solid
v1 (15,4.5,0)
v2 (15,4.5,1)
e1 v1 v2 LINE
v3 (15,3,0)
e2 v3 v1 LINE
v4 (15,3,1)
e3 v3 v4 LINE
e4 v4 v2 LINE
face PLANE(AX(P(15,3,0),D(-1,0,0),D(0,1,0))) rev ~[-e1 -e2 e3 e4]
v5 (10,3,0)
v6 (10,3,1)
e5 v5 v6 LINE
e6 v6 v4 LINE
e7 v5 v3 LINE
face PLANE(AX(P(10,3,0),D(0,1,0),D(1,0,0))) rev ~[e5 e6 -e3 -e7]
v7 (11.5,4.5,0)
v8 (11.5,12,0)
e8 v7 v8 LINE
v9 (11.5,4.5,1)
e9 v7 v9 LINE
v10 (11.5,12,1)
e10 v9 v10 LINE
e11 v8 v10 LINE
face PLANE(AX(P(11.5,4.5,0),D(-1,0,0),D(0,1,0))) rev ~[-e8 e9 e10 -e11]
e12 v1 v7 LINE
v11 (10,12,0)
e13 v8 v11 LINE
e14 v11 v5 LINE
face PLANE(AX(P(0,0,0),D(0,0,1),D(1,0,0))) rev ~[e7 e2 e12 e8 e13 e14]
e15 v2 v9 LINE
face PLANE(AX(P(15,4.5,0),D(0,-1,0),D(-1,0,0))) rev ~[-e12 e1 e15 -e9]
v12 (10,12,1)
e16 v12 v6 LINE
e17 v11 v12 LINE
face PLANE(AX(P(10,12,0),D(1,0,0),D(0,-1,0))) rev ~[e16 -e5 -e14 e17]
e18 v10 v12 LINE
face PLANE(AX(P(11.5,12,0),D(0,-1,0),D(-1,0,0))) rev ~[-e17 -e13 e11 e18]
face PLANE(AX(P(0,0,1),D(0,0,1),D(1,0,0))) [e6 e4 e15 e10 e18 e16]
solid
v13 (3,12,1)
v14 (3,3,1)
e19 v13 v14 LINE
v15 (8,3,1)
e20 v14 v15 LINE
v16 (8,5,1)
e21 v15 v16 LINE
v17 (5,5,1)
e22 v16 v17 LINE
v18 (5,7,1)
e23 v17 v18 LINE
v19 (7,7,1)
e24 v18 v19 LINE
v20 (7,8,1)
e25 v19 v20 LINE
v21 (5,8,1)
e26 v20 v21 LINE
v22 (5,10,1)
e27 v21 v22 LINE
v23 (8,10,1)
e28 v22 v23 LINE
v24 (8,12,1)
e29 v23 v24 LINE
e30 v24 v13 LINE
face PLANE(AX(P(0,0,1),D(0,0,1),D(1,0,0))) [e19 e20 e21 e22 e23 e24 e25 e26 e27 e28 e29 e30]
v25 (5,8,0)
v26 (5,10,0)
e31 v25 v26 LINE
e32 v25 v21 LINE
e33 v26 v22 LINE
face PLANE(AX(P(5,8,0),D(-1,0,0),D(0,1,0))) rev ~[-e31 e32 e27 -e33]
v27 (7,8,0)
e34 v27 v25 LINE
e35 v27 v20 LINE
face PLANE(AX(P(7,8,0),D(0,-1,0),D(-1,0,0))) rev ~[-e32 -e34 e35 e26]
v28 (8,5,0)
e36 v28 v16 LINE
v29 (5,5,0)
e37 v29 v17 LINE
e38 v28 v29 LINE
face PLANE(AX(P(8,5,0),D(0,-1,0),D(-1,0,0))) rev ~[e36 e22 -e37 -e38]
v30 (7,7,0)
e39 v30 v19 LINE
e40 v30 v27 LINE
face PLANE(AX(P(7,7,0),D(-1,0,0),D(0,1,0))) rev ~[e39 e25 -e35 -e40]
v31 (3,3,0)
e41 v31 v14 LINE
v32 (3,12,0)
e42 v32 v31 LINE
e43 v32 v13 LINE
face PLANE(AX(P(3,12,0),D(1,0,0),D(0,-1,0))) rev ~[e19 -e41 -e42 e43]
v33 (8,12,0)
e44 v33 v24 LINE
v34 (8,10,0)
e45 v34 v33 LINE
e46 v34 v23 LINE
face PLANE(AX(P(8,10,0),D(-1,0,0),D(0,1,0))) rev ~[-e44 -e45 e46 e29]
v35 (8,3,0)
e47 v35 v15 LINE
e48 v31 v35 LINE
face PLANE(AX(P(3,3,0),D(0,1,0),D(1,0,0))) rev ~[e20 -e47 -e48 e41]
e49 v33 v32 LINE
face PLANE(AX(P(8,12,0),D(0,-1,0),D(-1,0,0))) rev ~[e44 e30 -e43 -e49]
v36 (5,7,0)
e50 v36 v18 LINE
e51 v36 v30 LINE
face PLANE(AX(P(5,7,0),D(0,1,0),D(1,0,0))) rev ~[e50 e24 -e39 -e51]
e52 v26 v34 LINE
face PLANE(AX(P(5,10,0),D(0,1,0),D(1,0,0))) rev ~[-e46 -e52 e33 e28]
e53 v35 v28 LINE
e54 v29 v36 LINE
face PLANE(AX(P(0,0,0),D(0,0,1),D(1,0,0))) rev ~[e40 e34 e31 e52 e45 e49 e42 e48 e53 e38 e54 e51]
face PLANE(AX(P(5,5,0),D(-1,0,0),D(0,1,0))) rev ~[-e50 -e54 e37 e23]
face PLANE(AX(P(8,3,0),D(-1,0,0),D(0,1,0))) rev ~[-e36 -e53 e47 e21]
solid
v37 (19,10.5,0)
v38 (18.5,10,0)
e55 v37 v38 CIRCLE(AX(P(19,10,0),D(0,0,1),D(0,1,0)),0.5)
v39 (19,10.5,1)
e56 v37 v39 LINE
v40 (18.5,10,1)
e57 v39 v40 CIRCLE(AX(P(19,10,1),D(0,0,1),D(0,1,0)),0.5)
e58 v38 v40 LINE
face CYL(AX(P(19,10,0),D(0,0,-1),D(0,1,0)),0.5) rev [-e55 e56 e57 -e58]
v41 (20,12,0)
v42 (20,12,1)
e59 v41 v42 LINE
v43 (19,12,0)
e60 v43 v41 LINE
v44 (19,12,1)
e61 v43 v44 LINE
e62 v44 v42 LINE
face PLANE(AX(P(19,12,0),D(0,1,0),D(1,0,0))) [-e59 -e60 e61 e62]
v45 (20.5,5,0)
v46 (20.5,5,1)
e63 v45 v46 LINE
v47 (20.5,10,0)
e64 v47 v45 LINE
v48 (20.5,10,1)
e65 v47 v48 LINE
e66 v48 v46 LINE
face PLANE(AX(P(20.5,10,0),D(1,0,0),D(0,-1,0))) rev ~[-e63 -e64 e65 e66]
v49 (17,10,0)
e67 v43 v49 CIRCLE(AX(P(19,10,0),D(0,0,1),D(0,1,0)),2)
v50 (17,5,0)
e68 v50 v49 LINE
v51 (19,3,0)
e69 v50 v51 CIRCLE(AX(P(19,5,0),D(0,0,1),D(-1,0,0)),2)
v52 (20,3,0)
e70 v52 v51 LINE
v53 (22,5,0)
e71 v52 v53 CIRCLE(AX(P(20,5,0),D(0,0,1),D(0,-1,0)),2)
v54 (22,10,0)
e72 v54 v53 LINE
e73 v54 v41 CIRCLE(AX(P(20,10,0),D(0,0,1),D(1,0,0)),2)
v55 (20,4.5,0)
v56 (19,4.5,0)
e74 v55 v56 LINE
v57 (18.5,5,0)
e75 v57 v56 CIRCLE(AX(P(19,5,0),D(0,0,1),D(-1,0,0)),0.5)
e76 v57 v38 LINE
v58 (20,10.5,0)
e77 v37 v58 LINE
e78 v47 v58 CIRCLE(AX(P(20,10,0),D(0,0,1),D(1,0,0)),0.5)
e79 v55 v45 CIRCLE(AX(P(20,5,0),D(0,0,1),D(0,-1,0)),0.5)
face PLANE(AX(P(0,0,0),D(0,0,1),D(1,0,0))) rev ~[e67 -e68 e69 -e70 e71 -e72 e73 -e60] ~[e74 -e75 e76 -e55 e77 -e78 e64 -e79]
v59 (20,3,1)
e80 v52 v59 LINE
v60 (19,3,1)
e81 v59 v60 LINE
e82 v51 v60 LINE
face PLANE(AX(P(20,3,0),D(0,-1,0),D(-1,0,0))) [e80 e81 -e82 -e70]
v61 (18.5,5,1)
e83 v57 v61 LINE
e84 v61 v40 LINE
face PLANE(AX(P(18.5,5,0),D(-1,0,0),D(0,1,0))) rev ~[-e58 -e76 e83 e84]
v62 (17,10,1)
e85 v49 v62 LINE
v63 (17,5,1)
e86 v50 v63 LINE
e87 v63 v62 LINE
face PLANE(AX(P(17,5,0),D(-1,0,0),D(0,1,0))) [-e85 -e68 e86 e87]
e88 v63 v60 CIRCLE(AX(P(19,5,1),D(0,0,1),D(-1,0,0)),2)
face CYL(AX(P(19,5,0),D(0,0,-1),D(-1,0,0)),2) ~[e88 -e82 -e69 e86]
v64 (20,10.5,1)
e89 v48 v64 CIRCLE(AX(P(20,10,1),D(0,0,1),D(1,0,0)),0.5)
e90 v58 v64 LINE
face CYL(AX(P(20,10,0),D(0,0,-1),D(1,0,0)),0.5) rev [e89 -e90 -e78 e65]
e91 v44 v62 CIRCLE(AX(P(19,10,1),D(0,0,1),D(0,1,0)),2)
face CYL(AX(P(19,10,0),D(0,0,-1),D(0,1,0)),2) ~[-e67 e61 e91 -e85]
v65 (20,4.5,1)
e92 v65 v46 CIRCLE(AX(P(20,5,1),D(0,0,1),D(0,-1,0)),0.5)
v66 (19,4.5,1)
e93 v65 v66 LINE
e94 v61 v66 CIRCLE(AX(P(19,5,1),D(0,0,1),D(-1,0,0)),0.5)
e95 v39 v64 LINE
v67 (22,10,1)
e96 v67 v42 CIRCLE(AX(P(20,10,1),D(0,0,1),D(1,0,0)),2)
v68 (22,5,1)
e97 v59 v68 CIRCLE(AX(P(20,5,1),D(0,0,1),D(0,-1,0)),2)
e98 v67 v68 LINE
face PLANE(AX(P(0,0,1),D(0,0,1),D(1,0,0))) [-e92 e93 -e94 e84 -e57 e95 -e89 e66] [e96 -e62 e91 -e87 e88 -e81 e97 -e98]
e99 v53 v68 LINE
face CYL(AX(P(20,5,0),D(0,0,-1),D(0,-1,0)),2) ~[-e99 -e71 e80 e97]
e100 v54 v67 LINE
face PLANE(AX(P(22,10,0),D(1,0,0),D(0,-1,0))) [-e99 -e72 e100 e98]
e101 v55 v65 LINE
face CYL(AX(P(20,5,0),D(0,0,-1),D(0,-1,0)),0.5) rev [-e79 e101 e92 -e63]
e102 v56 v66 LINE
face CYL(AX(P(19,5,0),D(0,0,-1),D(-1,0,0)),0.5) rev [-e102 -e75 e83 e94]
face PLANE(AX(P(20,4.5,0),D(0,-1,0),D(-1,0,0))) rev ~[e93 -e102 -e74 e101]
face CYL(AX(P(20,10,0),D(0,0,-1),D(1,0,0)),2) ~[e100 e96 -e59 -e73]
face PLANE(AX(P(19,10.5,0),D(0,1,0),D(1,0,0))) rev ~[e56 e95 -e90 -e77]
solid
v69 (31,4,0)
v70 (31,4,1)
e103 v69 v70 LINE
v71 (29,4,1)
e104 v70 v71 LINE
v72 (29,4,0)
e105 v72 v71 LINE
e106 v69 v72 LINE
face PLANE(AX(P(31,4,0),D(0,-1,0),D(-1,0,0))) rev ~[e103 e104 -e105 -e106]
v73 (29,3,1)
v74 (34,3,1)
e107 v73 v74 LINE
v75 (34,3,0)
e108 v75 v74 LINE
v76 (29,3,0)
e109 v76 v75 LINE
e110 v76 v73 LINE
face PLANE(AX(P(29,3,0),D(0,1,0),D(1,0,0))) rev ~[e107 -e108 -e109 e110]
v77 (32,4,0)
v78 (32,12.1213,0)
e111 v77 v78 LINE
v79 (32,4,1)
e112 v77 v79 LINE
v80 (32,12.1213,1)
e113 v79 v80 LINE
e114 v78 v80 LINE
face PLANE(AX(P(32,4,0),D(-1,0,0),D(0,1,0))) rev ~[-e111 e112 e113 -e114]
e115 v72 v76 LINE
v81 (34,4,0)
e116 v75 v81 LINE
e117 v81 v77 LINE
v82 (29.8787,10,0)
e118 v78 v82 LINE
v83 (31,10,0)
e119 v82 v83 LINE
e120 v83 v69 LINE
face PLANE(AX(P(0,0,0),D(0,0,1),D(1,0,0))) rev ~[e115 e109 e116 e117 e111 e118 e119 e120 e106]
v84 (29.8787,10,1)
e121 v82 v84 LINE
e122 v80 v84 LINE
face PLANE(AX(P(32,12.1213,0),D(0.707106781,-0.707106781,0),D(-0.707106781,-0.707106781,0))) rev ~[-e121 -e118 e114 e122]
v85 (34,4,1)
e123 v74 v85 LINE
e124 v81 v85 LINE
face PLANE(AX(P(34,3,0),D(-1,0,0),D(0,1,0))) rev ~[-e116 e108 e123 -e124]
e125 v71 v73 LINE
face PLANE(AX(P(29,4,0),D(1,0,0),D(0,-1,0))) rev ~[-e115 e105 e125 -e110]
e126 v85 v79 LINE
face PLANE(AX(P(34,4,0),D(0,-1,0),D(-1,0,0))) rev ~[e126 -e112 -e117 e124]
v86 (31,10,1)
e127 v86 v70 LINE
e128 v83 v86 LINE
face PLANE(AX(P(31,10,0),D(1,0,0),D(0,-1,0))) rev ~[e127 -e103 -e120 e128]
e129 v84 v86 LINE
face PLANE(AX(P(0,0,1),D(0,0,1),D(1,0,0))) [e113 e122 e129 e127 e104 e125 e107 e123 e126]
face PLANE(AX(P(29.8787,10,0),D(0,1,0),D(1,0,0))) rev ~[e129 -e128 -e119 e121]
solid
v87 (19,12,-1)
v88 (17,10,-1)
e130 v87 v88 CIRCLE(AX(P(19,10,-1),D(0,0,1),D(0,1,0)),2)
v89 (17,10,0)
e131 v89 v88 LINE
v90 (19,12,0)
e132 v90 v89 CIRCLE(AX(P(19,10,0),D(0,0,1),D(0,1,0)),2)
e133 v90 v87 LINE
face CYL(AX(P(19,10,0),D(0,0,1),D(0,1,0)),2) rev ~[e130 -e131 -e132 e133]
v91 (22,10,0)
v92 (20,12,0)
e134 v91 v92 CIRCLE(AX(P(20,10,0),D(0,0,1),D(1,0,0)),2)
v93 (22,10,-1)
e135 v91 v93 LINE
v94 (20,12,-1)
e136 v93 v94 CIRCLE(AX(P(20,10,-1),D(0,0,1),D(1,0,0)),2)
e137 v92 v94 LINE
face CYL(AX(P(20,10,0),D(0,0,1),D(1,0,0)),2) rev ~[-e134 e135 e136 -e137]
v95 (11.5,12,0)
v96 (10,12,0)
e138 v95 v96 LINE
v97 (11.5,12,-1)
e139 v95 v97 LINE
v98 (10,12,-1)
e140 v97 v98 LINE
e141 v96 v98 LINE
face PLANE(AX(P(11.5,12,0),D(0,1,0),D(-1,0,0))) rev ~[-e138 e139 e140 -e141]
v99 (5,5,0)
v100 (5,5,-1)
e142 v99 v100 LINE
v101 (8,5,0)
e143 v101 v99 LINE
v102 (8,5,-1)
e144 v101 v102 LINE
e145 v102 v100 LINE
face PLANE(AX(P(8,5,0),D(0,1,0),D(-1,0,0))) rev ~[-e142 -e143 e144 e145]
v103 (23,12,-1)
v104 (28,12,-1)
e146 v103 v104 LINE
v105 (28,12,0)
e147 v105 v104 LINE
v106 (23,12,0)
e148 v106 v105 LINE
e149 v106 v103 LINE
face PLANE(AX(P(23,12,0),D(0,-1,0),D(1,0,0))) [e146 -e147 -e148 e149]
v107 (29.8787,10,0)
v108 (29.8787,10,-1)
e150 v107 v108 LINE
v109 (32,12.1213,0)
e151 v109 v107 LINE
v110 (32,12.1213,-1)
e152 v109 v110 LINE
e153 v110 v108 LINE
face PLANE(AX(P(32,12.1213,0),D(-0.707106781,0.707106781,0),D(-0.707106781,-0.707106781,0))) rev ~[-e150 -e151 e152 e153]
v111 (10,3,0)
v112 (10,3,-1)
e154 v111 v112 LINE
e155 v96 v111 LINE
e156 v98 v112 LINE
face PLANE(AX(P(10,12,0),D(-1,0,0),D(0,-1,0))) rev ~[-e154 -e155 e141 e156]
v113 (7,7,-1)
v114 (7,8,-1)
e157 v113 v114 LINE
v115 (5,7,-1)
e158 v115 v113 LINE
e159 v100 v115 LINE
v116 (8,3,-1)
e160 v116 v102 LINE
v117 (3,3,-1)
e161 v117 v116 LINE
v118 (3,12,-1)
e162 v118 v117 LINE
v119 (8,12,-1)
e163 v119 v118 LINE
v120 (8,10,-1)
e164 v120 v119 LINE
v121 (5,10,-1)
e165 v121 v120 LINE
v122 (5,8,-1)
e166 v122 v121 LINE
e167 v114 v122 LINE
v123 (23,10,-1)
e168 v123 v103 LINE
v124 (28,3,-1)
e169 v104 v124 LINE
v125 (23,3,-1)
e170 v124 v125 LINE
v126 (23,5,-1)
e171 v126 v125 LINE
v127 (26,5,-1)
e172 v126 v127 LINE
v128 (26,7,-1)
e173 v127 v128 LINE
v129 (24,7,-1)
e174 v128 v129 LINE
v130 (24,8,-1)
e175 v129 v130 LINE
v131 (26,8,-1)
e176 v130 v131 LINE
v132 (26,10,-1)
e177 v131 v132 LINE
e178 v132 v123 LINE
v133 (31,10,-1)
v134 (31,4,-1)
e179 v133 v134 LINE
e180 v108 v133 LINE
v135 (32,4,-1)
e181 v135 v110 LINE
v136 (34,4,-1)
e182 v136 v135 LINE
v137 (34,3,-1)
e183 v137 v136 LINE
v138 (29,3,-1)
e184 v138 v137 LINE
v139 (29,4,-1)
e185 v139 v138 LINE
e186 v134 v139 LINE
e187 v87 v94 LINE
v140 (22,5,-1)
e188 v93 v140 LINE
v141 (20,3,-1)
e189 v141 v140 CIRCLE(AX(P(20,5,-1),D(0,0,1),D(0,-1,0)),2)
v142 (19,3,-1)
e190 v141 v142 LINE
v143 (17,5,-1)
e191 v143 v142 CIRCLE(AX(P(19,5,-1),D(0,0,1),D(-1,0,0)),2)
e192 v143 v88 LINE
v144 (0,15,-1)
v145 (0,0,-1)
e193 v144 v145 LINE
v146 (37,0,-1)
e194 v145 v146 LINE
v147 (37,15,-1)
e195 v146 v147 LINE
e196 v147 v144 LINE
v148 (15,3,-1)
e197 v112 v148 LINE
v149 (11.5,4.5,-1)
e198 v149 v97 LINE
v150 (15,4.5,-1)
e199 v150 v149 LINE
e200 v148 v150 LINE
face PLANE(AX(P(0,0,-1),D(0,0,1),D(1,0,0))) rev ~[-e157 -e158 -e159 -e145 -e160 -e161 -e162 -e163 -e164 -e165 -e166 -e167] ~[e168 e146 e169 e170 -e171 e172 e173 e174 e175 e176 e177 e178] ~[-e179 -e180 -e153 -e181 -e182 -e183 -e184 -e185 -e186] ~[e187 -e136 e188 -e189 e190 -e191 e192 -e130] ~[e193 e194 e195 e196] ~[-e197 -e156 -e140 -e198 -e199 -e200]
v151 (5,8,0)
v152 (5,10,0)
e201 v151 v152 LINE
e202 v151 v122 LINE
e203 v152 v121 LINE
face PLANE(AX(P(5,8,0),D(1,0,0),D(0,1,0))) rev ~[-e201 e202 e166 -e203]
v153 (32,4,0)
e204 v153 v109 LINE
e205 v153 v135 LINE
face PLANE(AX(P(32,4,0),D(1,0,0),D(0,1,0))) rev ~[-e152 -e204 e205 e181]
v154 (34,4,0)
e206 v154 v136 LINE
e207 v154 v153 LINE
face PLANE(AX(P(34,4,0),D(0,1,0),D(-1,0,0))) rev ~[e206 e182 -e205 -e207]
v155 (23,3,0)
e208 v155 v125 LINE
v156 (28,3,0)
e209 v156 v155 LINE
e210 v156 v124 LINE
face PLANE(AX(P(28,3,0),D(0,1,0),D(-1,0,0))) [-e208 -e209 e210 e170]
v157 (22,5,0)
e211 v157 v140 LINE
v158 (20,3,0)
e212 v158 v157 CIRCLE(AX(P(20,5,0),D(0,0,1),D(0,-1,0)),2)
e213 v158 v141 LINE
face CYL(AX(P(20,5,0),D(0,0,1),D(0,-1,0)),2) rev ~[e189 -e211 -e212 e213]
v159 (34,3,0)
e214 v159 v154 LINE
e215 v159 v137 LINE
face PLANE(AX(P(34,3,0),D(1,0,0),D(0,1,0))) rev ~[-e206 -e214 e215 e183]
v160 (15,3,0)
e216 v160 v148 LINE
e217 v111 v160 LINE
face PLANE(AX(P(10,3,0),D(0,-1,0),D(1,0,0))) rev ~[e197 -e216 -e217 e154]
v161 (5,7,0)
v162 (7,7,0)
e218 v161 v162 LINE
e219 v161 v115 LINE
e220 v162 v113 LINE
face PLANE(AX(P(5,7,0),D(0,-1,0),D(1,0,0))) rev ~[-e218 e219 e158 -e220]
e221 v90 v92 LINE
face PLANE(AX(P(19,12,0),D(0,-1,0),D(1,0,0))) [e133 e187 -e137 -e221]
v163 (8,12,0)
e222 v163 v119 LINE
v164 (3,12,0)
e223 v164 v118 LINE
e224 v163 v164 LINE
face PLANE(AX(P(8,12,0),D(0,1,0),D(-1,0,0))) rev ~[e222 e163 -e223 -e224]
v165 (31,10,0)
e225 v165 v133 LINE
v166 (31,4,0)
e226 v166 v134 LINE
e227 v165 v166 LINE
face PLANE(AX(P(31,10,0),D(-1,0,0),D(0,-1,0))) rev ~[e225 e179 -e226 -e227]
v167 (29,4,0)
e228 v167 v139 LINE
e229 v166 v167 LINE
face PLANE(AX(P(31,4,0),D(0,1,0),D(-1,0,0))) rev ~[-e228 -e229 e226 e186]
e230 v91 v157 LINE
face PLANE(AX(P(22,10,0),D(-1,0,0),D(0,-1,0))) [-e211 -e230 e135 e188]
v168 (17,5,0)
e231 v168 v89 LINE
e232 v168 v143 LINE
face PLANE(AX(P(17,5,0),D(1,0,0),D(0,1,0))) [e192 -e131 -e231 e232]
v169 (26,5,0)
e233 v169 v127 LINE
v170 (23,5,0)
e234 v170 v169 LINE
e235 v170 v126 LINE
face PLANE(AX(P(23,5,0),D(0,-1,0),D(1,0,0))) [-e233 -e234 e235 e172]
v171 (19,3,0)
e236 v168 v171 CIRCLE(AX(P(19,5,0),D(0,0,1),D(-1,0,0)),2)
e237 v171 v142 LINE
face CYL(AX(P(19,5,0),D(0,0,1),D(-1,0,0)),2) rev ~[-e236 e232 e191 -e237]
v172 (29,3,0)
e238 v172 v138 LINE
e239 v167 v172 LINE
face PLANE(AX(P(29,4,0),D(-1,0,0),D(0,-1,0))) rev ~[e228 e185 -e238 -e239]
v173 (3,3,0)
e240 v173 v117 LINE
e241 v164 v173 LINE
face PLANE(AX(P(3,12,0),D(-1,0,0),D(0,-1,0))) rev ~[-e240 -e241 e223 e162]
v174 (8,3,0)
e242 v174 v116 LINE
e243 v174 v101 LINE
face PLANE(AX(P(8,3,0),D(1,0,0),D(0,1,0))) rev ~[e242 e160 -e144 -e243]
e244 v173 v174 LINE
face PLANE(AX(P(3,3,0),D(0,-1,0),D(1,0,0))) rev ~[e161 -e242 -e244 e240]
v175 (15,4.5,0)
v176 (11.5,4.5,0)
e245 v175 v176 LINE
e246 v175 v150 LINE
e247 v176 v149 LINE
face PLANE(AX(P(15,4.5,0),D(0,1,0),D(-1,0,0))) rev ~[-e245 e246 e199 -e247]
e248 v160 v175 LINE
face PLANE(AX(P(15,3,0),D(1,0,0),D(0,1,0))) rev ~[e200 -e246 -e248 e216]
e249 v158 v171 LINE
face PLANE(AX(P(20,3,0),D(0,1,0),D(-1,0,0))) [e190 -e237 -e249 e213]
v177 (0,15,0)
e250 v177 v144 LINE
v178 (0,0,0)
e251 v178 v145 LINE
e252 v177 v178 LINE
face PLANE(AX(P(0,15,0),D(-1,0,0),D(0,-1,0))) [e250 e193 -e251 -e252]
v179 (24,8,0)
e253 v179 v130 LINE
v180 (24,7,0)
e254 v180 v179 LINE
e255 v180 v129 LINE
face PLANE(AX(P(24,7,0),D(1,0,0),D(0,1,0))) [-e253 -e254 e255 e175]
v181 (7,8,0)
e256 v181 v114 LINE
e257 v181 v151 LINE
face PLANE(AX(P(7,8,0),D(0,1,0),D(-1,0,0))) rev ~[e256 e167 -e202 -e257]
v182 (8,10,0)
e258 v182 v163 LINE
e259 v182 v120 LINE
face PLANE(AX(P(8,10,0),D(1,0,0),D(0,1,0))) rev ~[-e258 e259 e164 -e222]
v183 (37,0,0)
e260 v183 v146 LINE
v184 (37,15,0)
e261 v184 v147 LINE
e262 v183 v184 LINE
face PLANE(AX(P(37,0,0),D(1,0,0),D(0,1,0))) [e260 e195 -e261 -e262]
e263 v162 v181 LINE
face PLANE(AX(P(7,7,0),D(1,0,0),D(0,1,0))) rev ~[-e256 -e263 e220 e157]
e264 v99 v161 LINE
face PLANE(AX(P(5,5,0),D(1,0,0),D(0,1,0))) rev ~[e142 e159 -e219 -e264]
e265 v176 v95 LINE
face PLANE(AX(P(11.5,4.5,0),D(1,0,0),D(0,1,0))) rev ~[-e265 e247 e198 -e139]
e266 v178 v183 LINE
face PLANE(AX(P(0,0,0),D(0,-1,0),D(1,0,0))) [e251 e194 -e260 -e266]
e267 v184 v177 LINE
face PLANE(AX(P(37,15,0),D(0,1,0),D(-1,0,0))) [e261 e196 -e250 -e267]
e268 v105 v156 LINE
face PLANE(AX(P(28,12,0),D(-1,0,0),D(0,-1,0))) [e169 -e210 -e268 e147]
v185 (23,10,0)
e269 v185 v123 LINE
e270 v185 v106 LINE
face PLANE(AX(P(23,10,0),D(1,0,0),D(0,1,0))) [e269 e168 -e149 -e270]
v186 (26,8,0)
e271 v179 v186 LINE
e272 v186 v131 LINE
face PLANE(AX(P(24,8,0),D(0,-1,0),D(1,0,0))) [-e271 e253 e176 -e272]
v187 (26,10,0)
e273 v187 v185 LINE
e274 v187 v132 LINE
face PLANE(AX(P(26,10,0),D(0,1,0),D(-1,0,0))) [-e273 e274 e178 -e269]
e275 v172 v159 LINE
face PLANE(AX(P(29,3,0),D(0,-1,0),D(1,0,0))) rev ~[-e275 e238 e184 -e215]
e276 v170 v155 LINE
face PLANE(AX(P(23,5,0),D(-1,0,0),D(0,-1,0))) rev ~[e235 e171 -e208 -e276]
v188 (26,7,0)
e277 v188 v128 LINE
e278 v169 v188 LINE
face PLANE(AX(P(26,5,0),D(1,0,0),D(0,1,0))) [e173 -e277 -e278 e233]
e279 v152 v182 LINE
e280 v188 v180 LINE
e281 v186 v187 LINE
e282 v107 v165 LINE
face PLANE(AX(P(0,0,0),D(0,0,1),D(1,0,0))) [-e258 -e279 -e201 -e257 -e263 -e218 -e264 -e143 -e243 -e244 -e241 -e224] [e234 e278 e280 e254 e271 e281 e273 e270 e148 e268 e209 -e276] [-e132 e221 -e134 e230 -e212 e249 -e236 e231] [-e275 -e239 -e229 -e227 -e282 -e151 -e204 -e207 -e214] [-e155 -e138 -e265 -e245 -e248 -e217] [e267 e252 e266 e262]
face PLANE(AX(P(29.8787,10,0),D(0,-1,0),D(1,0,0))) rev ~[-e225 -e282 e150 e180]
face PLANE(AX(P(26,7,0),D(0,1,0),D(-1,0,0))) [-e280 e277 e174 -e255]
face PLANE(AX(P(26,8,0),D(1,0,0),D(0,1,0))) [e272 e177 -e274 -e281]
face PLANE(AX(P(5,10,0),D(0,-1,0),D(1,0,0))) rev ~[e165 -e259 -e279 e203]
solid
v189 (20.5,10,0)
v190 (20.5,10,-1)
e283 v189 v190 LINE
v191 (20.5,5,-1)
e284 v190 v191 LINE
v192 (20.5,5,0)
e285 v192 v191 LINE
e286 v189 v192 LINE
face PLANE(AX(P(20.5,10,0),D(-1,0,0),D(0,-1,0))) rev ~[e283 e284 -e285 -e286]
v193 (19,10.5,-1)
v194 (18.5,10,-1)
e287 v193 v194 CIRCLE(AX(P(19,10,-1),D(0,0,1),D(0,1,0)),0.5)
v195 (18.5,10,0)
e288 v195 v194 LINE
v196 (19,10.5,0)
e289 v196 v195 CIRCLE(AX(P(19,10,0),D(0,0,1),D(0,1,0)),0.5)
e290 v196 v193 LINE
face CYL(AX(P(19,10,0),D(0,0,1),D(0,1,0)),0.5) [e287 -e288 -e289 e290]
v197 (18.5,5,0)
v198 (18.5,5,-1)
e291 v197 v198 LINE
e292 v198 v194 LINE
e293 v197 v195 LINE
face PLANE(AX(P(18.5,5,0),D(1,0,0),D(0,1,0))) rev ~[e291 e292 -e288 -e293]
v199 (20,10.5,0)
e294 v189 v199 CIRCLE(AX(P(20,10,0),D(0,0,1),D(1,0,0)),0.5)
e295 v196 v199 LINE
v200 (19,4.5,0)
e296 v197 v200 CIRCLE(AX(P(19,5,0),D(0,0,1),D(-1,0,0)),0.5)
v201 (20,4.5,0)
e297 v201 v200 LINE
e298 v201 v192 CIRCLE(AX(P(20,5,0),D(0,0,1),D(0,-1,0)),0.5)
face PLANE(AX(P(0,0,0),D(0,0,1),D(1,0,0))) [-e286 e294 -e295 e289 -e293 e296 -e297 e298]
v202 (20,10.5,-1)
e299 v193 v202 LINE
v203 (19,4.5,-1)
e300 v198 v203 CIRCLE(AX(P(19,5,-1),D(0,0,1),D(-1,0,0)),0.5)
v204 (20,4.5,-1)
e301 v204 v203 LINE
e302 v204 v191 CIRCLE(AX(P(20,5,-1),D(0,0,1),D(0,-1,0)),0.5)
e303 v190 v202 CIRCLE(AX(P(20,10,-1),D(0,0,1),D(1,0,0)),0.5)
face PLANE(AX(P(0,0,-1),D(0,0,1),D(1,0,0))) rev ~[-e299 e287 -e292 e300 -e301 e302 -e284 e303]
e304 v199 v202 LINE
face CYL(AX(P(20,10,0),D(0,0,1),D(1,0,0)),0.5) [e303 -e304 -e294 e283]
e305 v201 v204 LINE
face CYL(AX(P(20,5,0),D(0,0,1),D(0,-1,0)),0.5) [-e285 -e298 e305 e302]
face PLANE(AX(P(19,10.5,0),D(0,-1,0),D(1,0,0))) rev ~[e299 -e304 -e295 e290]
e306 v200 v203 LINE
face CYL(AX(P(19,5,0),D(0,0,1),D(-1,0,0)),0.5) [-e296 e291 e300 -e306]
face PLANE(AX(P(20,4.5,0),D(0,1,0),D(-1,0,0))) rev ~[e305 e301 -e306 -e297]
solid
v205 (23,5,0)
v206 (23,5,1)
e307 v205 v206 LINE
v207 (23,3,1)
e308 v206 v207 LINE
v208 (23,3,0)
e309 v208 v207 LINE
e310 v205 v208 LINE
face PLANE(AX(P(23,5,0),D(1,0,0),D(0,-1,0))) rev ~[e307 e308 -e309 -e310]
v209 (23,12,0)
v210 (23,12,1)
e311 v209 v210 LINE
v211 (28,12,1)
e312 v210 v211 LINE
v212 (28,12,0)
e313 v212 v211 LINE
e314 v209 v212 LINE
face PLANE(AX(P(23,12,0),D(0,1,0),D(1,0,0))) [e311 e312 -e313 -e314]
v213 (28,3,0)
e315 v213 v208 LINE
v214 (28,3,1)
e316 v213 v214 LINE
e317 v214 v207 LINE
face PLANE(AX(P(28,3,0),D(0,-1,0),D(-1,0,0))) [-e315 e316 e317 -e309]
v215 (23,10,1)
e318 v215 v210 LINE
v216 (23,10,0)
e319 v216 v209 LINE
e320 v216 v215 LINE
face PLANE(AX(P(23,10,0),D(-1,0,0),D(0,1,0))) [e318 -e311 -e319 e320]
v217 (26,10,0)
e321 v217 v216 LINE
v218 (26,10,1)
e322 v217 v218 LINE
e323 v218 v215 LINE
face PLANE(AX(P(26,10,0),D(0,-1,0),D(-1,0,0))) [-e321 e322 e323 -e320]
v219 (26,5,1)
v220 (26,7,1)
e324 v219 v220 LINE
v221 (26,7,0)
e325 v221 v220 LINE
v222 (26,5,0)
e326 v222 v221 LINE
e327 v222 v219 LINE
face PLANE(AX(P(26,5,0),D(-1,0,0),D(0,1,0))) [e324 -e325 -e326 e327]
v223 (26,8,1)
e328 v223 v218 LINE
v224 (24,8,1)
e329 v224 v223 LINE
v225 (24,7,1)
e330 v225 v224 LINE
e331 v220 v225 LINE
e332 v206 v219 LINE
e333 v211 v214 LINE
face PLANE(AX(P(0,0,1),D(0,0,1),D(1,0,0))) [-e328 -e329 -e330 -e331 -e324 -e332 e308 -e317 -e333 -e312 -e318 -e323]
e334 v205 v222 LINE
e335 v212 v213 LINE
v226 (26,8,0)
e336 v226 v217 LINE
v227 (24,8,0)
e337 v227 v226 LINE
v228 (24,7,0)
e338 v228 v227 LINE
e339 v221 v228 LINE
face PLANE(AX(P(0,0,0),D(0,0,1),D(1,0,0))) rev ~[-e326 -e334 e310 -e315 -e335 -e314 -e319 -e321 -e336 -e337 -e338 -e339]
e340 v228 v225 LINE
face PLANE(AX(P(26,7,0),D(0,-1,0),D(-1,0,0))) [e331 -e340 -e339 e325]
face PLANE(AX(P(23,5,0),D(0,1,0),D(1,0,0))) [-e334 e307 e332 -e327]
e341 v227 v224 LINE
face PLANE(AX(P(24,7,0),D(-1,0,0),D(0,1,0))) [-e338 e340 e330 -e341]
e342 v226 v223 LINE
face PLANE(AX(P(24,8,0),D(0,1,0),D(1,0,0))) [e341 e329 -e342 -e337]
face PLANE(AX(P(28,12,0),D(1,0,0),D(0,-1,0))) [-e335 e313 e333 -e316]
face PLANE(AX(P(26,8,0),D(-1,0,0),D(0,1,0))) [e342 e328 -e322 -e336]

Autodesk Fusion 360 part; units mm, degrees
sketch "Sketch1" plane through (0, 0, 0) normal (0, 0, 1) x (1, 0, 0)
  line L0 (0, 0) -> (37, 0)
  line L1 (37, 0) -> (37, 15)
  line L2 (37, 15) -> (0, 15)
  line L3 (0, 15) -> (0, 0)
  line L4 (3, 12) -> (3, 3)
  line L5 (3, 3) -> (8, 3)
  line L6 (8, 3) -> (8, 5)
  line L7 (8, 5) -> (5, 5)
  line L8 (5, 5) -> (5, 7)
  line L9 (5, 7) -> (7, 7)
  line L10 (7, 7) -> (7, 8)
  line L11 (7, 8) -> (5, 8)
  line L12 (5, 8) -> (5, 10)
  line L13 (5, 10) -> (8, 10)
  line L14 (8, 10) -> (8, 12)
  line L15 (8, 12) -> (3, 12)
  line L16 (10, 12) -> (10, 3)
  line L17 (10, 3) -> (15, 3)
  line L18 (15, 3) -> (15, 4.5)
  line L19 (15, 4.5) -> (11.5, 4.5)
  line L20 (11.5, 4.5) -> (11.5, 12)
  line L21 (11.5, 12) -> (10, 12)
  line L22 (19, 12) -> (20, 12)
  line L23 (22, 10) -> (22, 5)
  line L24 (20, 3) -> (19, 3)
  line L25 (17, 5) -> (17, 10)
  line L26 (19, 10.5) -> (20, 10.5)
  line L27 (20.5, 10) -> (20.5, 5)
  line L28 (20, 4.5) -> (19, 4.5)
  line L29 (18.5, 5) -> (18.5, 10)
  line L30 (23, 12) -> (28, 12)
  line L31 (28, 12) -> (28, 3)
  line L32 (28, 3) -> (23, 3)
  line L33 (23, 5) -> (23, 3)
  line L34 (23, 5) -> (26, 5)
  line L35 (26, 5) -> (26, 7)
  line L36 (26, 7) -> (24, 7)
  line L37 (24, 7) -> (24, 8)
  line L38 (24, 8) -> (26, 8)
  line L39 (26, 8) -> (26, 10)
  line L40 (26, 10) -> (23, 10)
  line L41 (23, 10) -> (23, 12)
  line L42 (32, 12.1213) -> (29.8787, 10)
  line L43 (29.8787, 10) -> (31, 10)
  line L44 (31, 10) -> (31, 4)
  line L45 (31, 4) -> (29, 4)
  line L46 (29, 4) -> (29, 3)
  line L47 (29, 3) -> (34, 3)
  line L48 (34, 3) -> (34, 4)
  line L49 (34, 4) -> (32, 4)
  line L50 (32, 4) -> (32, 12.1213)
  arc A0 (19, 12) -> (17, 10) centre (19, 10) ccw
  arc A1 (22, 10) -> (20, 12) centre (20, 10) ccw
  arc A2 (20, 3) -> (22, 5) centre (20, 5) ccw
  arc A3 (17, 5) -> (19, 3) centre (19, 5) ccw
  arc A4 (19, 10.5) -> (18.5, 10) centre (19, 10) ccw
  arc A5 (20.5, 10) -> (20, 10.5) centre (20, 10) ccw
  arc A6 (20, 4.5) -> (20.5, 5) centre (20, 5) ccw
  arc A7 (18.5, 5) -> (19, 4.5) centre (19, 5) ccw
  point P0 (17, 12)
  point P1 (22, 3)
  point P2 (17, 3)
  dimension "d1" = 37
  dimension "d2" = 15
  dimension "d3" = 9
  dimension "d4" = 5
  dimension "d5" = 3
  dimension "d6" = 3
  dimension "d7" = 2
  dimension "d8" = 2
  dimension "d9" = 2
  dimension "d10" = 2
  dimension "d11" = 5
  dimension "d12" = 4
  dimension "d13" = 2
  dimension "d14" = 2
  dimension "d15" = 2
  dimension "d16" = 9
  dimension "d17" = 3
  dimension "d18" = 5
  dimension "d19" = 3.5
  dimension "d20" = 7.5
  dimension "d21" = 2
  dimension "d22" = 3
  dimension "d23" = 5
  dimension "d24" = 9
  dimension "d25" = 2
  dimension "d26" = 2
  dimension "d27" = 2
  dimension "d28" = 2
  dimension "d29" = 1.5
  dimension "d30" = 1.5
  dimension "d31" = 1.5
  dimension "d32" = 1.5
  dimension "d33" = 0.5
  dimension "d34" = 1
  dimension "d35" = 3
  dimension "d36" = 9
  dimension "d37" = 2
  dimension "d38" = 2
  dimension "d39" = 5
  dimension "d40" = 1
  dimension "d41" = 2
  dimension "d42" = 2
  dimension "d43" = 2
  dimension "d44" = 2
  dimension "d45" = 4
  dimension "d46" = 5
  dimension "d47" = 3
  dimension "d48" = 1
  dimension "d49" = 2
  dimension "d50" = 2
  dimension "d51" = 1
  dimension "d52" = 1
  dimension "d53" = 45
  dimension "d54" = 6
  dimension "d55" = 3
  dimension "d56" = 0.5
extrude "Extrude1" add sketch "Sketch1" against normal blind 1 makes body 1 at (34.3333, 10.3738, 0) makes body 2 at (19.8333, 8.3333, 0)
extrude "Extrude2" add sketch "Sketch1" along normal blind 1 separate body contours L4 L5 L6 L7 L8 L9 L10 L11 L12 L13 L14 L15 | L16 L17 L18 L19 L20 L21 | L22 L23 L24 L25 A0 A1 A2 A3 | L30 L31 L32 L33 L34 L35 L36 L37 L38 L39 L40 L41 | L42 L43 L44 L45 L46 L47 L48 L49 L50 makes body 3 at (17.5, 6.6667, 0) makes body 4 at (10.5, 6.5, 0) makes body 5 at (27.3333, 7.6667, 0) makes body 6 at (3.6667, 7.6667, 0) makes body 7 at (31.6667, 8.7071, 0)
